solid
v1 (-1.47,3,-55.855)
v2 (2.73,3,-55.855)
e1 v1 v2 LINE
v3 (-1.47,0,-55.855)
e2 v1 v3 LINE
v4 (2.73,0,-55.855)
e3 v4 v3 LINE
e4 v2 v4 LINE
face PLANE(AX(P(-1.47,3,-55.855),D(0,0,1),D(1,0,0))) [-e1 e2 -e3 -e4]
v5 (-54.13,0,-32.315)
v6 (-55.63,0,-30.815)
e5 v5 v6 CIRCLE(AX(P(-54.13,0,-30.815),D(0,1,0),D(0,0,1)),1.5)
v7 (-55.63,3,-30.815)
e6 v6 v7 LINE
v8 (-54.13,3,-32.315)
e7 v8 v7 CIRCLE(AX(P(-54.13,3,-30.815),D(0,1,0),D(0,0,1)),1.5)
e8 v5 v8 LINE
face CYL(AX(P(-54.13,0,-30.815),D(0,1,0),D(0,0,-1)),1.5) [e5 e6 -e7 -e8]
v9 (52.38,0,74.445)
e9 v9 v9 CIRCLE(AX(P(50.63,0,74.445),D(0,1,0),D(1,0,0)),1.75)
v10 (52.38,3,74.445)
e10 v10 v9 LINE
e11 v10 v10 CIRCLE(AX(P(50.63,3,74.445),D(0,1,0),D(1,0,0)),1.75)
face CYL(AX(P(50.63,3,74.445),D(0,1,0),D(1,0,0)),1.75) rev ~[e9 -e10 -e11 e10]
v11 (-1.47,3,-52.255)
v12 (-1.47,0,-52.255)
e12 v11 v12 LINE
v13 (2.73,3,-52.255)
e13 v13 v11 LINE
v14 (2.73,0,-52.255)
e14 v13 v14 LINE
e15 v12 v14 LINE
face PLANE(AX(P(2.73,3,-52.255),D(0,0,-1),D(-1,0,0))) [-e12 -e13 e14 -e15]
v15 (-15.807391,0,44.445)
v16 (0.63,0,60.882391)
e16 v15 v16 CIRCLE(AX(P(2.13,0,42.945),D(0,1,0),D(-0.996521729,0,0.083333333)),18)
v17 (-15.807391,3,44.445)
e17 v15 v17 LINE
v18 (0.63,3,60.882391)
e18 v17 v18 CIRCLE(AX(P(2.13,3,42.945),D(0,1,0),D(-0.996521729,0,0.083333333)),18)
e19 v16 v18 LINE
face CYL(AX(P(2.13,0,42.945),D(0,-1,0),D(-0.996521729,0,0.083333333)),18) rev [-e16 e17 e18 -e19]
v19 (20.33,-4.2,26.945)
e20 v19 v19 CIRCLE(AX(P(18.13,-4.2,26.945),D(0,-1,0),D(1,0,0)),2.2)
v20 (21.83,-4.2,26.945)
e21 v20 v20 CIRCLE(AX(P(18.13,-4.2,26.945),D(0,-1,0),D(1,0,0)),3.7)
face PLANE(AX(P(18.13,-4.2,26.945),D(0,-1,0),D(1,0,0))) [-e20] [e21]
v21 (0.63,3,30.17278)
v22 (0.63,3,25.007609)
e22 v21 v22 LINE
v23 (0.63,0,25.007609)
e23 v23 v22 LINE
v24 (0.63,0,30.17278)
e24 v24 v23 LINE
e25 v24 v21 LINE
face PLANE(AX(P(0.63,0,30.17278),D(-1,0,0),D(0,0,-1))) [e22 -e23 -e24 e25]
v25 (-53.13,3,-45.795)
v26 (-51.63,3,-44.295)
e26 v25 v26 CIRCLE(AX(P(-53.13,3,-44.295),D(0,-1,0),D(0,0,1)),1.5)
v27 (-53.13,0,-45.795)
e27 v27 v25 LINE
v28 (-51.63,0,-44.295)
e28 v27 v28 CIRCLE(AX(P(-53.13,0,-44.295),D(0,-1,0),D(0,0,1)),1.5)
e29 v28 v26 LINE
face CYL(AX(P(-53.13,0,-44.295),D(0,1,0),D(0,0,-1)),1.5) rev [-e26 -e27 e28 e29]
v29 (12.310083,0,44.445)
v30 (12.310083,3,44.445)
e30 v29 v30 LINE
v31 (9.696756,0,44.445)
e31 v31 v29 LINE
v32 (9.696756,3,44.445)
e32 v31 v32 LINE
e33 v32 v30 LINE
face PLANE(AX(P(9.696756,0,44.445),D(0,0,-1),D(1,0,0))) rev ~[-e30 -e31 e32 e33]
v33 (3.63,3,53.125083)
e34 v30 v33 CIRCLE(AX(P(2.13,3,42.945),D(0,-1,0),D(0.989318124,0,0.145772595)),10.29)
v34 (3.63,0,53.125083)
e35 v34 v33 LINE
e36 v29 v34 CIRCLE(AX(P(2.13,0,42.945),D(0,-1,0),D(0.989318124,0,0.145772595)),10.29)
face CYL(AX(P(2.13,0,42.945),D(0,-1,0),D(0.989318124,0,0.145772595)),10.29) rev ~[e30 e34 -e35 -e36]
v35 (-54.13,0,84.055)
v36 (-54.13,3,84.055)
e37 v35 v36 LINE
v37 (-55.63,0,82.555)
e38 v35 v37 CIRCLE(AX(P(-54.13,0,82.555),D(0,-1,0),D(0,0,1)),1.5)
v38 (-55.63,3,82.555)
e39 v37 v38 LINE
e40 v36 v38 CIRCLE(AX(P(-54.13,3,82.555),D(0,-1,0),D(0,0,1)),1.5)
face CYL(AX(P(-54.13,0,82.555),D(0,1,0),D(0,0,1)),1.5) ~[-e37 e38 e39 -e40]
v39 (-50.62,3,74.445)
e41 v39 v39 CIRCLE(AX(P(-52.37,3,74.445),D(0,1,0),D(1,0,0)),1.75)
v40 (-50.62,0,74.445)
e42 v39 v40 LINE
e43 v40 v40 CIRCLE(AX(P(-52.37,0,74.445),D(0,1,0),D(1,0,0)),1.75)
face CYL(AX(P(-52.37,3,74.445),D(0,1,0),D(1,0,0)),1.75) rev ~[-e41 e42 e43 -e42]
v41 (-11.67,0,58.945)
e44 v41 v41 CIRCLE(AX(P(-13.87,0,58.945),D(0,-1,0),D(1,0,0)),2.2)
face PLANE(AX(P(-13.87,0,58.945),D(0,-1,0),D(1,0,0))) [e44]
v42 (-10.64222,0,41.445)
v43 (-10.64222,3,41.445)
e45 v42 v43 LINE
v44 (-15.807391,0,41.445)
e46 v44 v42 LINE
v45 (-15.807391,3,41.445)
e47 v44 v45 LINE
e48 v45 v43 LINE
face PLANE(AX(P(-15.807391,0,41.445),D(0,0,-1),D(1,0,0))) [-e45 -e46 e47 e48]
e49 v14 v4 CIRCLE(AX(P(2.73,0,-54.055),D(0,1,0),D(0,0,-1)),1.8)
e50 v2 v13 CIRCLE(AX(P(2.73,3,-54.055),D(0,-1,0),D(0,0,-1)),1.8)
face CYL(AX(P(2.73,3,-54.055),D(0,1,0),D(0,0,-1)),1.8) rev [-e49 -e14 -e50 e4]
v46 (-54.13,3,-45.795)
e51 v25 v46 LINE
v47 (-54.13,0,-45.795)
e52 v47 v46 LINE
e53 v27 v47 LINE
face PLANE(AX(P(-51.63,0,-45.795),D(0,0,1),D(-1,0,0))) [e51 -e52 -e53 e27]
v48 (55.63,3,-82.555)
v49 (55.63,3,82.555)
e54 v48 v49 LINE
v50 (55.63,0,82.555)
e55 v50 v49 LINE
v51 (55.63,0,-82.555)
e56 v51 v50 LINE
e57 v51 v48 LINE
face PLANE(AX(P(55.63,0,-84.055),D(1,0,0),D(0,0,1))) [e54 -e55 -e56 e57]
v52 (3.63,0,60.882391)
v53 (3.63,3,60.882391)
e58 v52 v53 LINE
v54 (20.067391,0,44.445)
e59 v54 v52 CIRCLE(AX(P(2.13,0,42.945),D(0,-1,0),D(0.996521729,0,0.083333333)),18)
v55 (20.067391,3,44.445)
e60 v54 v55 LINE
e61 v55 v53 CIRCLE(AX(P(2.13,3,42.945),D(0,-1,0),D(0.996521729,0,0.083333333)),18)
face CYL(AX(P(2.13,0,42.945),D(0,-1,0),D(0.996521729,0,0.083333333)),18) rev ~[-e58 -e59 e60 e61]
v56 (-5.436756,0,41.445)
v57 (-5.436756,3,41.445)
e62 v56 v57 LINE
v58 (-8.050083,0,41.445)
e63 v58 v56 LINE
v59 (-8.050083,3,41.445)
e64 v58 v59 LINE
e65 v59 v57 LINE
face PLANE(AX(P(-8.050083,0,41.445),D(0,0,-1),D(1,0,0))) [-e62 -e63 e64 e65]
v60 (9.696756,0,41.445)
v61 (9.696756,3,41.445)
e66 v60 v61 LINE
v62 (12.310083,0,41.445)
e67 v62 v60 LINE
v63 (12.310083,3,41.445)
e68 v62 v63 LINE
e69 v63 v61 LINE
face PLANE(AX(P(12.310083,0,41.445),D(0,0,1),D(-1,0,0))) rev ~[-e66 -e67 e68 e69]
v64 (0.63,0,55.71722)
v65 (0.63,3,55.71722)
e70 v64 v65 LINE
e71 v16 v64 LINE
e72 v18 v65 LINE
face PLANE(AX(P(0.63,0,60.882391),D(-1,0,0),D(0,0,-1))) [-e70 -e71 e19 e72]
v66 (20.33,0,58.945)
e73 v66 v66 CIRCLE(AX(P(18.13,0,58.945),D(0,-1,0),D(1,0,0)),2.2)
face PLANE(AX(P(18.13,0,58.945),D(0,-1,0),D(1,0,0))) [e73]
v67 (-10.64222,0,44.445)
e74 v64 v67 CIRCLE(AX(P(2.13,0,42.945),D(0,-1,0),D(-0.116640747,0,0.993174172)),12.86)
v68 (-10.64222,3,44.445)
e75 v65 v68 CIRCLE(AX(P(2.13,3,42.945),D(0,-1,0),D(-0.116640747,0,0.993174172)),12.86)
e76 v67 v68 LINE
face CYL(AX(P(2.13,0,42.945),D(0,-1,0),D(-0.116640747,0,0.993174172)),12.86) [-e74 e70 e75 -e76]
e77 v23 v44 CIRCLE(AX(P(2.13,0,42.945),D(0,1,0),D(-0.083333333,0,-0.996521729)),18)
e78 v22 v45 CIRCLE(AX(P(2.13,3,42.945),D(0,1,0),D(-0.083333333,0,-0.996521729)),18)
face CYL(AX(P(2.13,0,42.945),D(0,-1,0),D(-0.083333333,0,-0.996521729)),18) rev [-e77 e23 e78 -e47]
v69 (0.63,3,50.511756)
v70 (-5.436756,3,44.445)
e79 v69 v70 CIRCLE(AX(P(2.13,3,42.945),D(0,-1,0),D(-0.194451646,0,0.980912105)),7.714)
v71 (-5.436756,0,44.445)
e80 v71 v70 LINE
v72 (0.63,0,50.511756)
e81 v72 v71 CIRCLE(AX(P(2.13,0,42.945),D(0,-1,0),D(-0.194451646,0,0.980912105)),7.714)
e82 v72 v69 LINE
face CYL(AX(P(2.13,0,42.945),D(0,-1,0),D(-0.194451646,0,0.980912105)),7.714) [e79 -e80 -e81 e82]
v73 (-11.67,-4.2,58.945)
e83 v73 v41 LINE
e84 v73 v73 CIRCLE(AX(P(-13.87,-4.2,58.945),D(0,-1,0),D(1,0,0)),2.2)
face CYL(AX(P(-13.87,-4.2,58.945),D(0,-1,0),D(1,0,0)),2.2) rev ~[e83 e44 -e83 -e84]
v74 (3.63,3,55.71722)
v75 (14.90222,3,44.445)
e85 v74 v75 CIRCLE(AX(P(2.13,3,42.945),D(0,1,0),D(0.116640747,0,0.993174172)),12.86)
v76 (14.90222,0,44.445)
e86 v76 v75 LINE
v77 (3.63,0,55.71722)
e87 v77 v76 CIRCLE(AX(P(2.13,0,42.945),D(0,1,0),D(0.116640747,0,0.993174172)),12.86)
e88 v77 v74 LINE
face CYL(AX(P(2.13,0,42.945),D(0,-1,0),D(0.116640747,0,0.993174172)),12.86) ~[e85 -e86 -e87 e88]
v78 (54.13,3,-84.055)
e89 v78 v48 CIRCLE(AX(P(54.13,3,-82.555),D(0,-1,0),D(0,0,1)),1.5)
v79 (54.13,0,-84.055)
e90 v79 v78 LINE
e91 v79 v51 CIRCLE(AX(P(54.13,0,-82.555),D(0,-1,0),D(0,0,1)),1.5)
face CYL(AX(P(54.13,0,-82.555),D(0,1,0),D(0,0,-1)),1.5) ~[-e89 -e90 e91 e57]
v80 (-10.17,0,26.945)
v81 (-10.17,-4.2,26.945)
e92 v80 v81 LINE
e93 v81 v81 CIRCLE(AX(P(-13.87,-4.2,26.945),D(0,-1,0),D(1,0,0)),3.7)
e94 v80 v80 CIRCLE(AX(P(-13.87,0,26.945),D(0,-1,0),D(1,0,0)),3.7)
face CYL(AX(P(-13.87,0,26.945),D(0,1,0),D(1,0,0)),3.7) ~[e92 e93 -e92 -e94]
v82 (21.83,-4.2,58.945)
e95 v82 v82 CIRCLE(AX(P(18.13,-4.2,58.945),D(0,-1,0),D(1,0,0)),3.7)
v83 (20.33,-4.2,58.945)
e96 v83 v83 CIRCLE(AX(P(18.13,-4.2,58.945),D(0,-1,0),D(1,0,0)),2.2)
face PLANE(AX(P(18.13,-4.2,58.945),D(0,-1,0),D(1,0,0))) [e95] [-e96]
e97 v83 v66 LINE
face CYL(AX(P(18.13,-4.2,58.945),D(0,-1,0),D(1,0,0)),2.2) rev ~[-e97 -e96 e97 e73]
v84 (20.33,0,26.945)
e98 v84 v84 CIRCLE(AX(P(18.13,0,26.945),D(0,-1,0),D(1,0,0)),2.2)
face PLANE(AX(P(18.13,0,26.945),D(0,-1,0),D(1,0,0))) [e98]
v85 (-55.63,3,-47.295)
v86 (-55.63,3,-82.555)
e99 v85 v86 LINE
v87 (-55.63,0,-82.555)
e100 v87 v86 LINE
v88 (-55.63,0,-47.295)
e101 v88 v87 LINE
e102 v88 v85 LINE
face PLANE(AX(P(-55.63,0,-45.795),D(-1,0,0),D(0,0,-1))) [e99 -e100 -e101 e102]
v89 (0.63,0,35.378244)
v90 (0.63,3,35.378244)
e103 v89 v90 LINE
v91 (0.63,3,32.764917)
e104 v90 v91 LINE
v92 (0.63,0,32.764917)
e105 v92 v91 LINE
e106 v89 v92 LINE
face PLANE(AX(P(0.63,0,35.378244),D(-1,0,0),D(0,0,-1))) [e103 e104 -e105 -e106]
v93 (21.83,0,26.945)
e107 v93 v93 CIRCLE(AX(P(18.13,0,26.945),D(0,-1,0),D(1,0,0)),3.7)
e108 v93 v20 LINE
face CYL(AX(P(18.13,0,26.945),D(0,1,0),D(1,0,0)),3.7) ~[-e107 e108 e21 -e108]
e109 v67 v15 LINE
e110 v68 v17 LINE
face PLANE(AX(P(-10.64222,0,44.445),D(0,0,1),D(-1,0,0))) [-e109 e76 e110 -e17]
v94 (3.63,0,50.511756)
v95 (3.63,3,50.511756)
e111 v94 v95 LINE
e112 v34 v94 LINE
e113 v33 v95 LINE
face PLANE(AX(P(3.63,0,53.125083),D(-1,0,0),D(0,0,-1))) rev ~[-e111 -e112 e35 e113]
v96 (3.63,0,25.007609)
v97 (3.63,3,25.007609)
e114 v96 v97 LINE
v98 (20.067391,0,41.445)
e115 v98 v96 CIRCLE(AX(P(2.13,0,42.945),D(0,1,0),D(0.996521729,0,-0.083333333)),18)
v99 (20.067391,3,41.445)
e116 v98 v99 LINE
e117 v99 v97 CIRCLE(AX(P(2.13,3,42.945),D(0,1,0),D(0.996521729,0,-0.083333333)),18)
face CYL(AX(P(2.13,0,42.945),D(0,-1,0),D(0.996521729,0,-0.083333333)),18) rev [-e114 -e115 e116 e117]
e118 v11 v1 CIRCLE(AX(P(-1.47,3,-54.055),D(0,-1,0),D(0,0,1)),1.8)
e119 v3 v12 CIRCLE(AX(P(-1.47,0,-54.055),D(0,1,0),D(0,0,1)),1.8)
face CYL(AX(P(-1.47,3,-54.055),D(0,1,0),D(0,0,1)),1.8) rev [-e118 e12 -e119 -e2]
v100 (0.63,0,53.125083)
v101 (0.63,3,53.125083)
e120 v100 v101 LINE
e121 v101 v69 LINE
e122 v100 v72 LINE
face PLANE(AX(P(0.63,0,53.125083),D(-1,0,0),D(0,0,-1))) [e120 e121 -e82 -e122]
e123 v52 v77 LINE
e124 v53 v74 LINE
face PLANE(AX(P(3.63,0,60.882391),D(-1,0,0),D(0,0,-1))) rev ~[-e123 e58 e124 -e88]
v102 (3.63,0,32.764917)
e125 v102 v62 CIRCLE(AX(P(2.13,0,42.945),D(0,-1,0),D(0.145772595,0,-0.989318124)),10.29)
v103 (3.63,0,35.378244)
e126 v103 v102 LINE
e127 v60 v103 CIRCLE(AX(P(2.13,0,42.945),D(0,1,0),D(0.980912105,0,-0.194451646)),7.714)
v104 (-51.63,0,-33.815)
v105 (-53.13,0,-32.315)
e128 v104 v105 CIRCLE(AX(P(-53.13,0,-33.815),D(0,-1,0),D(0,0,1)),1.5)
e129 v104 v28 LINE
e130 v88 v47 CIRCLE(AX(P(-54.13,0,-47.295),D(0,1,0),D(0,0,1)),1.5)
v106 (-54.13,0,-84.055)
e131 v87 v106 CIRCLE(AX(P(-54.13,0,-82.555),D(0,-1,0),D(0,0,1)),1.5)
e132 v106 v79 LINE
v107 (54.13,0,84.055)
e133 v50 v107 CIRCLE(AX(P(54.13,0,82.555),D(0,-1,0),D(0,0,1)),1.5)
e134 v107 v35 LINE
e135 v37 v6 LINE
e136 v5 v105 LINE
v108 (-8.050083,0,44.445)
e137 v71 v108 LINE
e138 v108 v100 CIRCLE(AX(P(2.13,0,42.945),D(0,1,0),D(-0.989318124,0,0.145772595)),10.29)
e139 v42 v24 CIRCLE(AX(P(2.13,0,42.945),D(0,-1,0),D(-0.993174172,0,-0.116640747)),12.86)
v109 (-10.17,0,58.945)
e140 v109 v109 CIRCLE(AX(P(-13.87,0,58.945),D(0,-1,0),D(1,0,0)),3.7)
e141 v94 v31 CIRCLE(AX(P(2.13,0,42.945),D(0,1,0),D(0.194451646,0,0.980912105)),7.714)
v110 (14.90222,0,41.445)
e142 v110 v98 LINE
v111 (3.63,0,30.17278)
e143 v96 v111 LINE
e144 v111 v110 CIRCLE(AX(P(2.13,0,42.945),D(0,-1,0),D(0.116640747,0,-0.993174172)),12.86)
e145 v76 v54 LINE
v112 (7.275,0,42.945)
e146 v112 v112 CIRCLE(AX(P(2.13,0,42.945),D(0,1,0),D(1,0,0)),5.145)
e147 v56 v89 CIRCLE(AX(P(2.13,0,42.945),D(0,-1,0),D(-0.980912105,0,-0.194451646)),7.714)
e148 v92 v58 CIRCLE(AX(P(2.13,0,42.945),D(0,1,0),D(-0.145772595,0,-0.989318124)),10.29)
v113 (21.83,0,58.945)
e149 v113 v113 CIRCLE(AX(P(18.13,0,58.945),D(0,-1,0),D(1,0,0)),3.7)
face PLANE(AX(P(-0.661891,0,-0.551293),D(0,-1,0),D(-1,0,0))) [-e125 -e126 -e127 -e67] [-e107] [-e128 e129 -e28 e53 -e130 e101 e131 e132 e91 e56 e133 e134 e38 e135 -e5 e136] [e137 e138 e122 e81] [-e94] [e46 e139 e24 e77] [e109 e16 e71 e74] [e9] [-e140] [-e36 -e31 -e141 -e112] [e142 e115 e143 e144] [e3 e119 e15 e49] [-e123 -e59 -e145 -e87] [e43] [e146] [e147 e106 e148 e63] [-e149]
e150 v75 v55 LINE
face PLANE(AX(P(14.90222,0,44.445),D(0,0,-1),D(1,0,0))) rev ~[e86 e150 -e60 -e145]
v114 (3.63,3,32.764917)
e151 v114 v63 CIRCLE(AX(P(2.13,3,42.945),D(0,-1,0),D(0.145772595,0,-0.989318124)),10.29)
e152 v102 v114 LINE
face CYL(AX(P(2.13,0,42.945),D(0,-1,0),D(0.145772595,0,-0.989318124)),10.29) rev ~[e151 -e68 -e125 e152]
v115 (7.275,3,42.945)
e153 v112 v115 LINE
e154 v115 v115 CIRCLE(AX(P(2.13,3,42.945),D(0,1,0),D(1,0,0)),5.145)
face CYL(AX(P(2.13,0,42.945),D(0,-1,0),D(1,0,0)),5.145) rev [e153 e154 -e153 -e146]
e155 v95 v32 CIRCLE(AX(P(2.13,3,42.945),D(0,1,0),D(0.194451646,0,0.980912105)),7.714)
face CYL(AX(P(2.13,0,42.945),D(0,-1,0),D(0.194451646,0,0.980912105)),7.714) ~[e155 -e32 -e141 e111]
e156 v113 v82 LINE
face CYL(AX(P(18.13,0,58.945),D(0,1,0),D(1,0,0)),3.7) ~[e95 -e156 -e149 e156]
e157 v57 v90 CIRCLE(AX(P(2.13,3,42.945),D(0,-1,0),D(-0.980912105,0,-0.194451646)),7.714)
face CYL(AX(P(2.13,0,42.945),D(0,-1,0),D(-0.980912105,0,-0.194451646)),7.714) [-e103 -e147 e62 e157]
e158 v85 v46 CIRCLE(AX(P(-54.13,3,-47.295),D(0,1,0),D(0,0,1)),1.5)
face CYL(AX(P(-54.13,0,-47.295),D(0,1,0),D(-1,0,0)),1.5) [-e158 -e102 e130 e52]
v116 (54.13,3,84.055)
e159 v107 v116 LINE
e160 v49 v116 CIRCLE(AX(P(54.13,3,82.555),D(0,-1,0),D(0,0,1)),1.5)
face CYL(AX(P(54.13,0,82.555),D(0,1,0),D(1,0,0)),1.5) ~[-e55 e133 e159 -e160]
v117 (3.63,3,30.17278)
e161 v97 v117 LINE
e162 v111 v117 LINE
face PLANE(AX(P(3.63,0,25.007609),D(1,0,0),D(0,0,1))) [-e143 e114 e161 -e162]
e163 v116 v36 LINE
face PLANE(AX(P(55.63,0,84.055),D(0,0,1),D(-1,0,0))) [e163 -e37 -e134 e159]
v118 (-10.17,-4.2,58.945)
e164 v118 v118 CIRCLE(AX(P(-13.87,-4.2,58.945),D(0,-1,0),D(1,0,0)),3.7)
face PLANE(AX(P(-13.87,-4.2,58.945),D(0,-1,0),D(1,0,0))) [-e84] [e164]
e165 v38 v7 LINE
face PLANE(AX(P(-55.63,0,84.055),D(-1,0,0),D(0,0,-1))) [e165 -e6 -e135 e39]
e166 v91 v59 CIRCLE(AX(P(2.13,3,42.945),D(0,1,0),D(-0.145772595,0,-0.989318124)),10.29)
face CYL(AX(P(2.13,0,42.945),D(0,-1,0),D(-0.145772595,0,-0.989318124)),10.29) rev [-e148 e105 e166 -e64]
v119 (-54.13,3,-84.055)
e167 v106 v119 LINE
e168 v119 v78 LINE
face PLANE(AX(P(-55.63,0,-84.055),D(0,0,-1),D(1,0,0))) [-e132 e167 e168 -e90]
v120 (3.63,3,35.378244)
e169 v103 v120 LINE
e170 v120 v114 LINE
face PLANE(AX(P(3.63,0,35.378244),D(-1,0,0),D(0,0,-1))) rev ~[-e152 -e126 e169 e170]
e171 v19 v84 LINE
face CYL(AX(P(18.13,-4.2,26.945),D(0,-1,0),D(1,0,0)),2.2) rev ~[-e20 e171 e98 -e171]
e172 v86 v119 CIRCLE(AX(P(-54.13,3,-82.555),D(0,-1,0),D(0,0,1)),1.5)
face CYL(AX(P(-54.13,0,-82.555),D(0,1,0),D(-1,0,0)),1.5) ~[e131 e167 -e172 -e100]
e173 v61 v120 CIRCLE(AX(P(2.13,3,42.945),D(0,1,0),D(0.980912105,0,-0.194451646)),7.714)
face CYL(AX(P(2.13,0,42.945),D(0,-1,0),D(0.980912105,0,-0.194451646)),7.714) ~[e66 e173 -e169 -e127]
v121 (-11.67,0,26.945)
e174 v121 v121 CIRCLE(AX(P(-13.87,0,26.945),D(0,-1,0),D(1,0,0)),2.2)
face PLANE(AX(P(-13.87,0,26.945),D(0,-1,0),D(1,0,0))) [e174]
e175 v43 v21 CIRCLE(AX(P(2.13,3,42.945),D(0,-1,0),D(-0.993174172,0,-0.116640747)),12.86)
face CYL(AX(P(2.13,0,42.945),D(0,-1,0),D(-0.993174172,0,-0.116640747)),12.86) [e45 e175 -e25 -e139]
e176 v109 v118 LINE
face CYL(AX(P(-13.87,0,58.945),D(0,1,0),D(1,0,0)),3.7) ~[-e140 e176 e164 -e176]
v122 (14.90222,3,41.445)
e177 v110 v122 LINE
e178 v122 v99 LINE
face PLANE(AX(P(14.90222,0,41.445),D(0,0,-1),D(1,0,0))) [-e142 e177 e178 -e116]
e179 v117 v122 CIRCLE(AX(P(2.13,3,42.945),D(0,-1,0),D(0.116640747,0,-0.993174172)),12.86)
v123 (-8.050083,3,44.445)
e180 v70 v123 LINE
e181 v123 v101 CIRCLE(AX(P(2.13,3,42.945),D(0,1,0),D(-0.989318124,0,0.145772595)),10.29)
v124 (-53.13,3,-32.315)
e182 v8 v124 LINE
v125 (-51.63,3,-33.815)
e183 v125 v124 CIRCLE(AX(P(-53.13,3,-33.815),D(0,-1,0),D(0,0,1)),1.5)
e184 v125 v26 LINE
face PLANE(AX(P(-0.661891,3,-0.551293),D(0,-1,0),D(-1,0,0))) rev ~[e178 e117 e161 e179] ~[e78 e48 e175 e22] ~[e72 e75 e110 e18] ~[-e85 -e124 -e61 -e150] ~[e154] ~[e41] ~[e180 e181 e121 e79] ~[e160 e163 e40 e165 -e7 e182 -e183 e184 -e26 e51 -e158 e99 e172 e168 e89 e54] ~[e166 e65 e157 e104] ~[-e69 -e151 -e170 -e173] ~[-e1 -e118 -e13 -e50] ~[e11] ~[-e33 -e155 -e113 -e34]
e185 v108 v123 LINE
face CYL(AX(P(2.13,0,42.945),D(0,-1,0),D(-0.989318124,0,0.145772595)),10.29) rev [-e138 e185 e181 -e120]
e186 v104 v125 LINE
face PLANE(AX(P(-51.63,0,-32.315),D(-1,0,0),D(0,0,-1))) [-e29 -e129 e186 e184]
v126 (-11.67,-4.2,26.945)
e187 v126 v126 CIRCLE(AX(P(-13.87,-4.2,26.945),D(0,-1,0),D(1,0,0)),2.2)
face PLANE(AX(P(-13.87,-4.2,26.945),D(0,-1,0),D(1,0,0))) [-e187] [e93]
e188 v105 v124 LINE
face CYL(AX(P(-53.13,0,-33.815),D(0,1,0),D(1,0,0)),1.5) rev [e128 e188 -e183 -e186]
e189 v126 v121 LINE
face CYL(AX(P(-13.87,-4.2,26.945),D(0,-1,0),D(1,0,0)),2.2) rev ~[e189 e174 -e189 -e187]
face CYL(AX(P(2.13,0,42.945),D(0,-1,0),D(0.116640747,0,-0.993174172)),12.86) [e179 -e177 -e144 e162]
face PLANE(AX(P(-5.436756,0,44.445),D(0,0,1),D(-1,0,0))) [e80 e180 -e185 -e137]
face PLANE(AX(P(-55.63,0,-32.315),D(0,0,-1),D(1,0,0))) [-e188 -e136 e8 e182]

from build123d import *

# Parameters (mm, degrees)
ESBO_O1_R                = 5.145
RESSALTO_EXTRUS_O1_DEPTH = 3
ESBO_O2_R                = 1.75
CORTE_EXTRUS_O1_DEPTH    = 4
FILETE1_R                = 1.5
ESBO_O3_R                = 3.7
RESSALTO_EXTRUS_O2_DEPTH = 4.2
ESBO_O4_R                = 2.2
CORTE_EXTRUS_O2_DEPTH    = 4.2


with BuildPart() as part:
    # Esboço1 → Ressalto-extrusão1 (new body)
    with BuildSketch(Plane(origin=(0, 0, 0), x_dir=(1, 0, 0), z_dir=(0, 1, 0))):
        Polygon((-55.63, 45.795), (-55.63, 84.055), (55.63, 84.055), (55.63, -84.055), (-55.63, -84.055), (-55.63, 32.315), (-51.63, 32.315), (-51.63, 45.795), align=None)
        with Locations((2.13, -42.945)):
            Circle(ESBO_O1_R, mode=Mode.SUBTRACT)
        with BuildLine():
            Line((0.63, -53.125083497), (0.63, -50.511755976))
            ThreePointArc((0.63, -50.511755976), (-3.32462171, -48.39962171), (-5.436755976, -44.445))
            Line((-5.436755976, -44.445), (-8.050083497, -44.445))
            ThreePointArc((-8.050083497, -44.445), (-5.146128778, -50.221128778), (0.63, -53.125083497))
        make_face(mode=Mode.SUBTRACT)
        with BuildLine():
            Line((0.63, -60.882391115), (0.63, -55.717219854))
            ThreePointArc((0.63, -55.717219854), (-6.963393206, -52.038393206), (-10.642219854, -44.445))
            Line((-10.642219854, -44.445), (-15.807391115, -44.445))
            ThreePointArc((-15.807391115, -44.445), (-10.597922061, -55.672922061), (0.63, -60.882391115))
        make_face(mode=Mode.SUBTRACT)
        with BuildLine():
            Line((3.63, -60.882391115), (3.63, -55.717219854))
            ThreePointArc((3.63, -55.717219854), (11.223393206, -52.038393206), (14.902219854, -44.445))
            Line((14.902219854, -44.445), (20.067391115, -44.445))
            ThreePointArc((20.067391115, -44.445), (14.857922061, -55.672922061), (3.63, -60.882391115))
        make_face(mode=Mode.SUBTRACT)
        with BuildLine():
            Line((3.63, -53.125083497), (3.63, -50.511755976))
            ThreePointArc((3.63, -50.511755976), (7.58462171, -48.39962171), (9.696755976, -44.445))
            Line((9.696755976, -44.445), (12.310083497, -44.445))
            ThreePointArc((12.310083497, -44.445), (9.406128778, -50.221128778), (3.63, -53.125083497))
        make_face(mode=Mode.SUBTRACT)
        with BuildLine():
            Line((14.902219854, -41.445), (20.067391115, -41.445))
            ThreePointArc((20.067391115, -41.445), (14.857922061, -30.217077939), (3.63, -25.007608885))
            Line((3.63, -25.007608885), (3.63, -30.172780146))
            ThreePointArc((3.63, -30.172780146), (11.223393206, -33.851606794), (14.902219854, -41.445))
        make_face(mode=Mode.SUBTRACT)
        with BuildLine():
            Line((-15.807391115, -41.445), (-10.642219854, -41.445))
            ThreePointArc((-10.642219854, -41.445), (-6.963393206, -33.851606794), (0.63, -30.172780146))
            Line((0.63, -30.172780146), (0.63, -25.007608885))
            ThreePointArc((0.63, -25.007608885), (-10.597922061, -30.217077939), (-15.807391115, -41.445))
        make_face(mode=Mode.SUBTRACT)
        with BuildLine():
            Line((-8.050083497, -41.445), (-5.436755976, -41.445))
            ThreePointArc((-5.436755976, -41.445), (-3.32462171, -37.49037829), (0.63, -35.378244024))
            Line((0.63, -35.378244024), (0.63, -32.764916503))
            ThreePointArc((0.63, -32.764916503), (-5.146128778, -35.668871222), (-8.050083497, -41.445))
        make_face(mode=Mode.SUBTRACT)
        with BuildLine():
            Line((3.63, -35.378244024), (3.63, -32.764916503))
            ThreePointArc((3.63, -32.764916503), (9.406128778, -35.668871222), (12.310083497, -41.445))
            Line((12.310083497, -41.445), (9.696755976, -41.445))
            ThreePointArc((9.696755976, -41.445), (7.58462171, -37.49037829), (3.63, -35.378244024))
        make_face(mode=Mode.SUBTRACT)
    extrude(amount=RESSALTO_EXTRUS_O1_DEPTH)

    # Esboço2 → Corte-extrusão1 (cut, through all)
    with BuildSketch(Plane(origin=(0, 3, 0), x_dir=(1, 0, 0), z_dir=(0, 1, 0))):
        with Locations((-52.37, -74.445)):
            Circle(ESBO_O2_R)
        with Locations((50.63, -74.445)):
            Circle(ESBO_O2_R)
        with BuildLine():
            Line((-1.47, 55.855), (2.73, 55.855))
            ThreePointArc((2.73, 55.855), (4.53, 54.055), (2.73, 52.255))
            Line((2.73, 52.255), (-1.47, 52.255))
            ThreePointArc((-1.47, 52.255), (-3.27, 54.055), (-1.47, 55.855))
        make_face()
    extrude(amount=-CORTE_EXTRUS_O1_DEPTH, mode=Mode.SUBTRACT)

    # Filete1
    filete1_edges = [part.edges().sort_by_distance(p)[0] for p in [
        (-51.63, 1.5, -45.795),
        (-55.63, 1.5, -45.795),
        (-55.63, 1.5, -84.055),
        (55.63, 1.5, -84.055),
        (55.63, 1.5, 84.055),
        (-55.63, 1.5, 84.055),
        (-55.63, 1.5, -32.315),
        (-51.63, 1.5, -32.315),
    ]]
    fillet(filete1_edges, radius=FILETE1_R)

    # Esboço3 → Ressalto-extrusão2 (add)
    with BuildSketch(Plane.XZ):
        with Locations((18.13, 26.945)):
            Circle(ESBO_O3_R)
        with Locations((18.13, 58.945)):
            Circle(ESBO_O3_R)
        with Locations((-13.87, 58.945)):
            Circle(ESBO_O3_R)
        with Locations((-13.87, 26.945)):
            Circle(ESBO_O3_R)
    extrude(amount=RESSALTO_EXTRUS_O2_DEPTH)

    # Esboço4 → Corte-extrusão2 (cut)
    with BuildSketch(Plane.XZ.offset(4.2)):
        with Locations((-13.87, 58.945)):
            Circle(ESBO_O4_R)
        with Locations((18.13, 58.945)):
            Circle(ESBO_O4_R)
        with Locations((18.13, 26.945)):
            Circle(ESBO_O4_R)
        with Locations((-13.87, 26.945)):
            Circle(ESBO_O4_R)
    extrude(amount=-CORTE_EXTRUS_O2_DEPTH, mode=Mode.SUBTRACT)


solid = part.part
